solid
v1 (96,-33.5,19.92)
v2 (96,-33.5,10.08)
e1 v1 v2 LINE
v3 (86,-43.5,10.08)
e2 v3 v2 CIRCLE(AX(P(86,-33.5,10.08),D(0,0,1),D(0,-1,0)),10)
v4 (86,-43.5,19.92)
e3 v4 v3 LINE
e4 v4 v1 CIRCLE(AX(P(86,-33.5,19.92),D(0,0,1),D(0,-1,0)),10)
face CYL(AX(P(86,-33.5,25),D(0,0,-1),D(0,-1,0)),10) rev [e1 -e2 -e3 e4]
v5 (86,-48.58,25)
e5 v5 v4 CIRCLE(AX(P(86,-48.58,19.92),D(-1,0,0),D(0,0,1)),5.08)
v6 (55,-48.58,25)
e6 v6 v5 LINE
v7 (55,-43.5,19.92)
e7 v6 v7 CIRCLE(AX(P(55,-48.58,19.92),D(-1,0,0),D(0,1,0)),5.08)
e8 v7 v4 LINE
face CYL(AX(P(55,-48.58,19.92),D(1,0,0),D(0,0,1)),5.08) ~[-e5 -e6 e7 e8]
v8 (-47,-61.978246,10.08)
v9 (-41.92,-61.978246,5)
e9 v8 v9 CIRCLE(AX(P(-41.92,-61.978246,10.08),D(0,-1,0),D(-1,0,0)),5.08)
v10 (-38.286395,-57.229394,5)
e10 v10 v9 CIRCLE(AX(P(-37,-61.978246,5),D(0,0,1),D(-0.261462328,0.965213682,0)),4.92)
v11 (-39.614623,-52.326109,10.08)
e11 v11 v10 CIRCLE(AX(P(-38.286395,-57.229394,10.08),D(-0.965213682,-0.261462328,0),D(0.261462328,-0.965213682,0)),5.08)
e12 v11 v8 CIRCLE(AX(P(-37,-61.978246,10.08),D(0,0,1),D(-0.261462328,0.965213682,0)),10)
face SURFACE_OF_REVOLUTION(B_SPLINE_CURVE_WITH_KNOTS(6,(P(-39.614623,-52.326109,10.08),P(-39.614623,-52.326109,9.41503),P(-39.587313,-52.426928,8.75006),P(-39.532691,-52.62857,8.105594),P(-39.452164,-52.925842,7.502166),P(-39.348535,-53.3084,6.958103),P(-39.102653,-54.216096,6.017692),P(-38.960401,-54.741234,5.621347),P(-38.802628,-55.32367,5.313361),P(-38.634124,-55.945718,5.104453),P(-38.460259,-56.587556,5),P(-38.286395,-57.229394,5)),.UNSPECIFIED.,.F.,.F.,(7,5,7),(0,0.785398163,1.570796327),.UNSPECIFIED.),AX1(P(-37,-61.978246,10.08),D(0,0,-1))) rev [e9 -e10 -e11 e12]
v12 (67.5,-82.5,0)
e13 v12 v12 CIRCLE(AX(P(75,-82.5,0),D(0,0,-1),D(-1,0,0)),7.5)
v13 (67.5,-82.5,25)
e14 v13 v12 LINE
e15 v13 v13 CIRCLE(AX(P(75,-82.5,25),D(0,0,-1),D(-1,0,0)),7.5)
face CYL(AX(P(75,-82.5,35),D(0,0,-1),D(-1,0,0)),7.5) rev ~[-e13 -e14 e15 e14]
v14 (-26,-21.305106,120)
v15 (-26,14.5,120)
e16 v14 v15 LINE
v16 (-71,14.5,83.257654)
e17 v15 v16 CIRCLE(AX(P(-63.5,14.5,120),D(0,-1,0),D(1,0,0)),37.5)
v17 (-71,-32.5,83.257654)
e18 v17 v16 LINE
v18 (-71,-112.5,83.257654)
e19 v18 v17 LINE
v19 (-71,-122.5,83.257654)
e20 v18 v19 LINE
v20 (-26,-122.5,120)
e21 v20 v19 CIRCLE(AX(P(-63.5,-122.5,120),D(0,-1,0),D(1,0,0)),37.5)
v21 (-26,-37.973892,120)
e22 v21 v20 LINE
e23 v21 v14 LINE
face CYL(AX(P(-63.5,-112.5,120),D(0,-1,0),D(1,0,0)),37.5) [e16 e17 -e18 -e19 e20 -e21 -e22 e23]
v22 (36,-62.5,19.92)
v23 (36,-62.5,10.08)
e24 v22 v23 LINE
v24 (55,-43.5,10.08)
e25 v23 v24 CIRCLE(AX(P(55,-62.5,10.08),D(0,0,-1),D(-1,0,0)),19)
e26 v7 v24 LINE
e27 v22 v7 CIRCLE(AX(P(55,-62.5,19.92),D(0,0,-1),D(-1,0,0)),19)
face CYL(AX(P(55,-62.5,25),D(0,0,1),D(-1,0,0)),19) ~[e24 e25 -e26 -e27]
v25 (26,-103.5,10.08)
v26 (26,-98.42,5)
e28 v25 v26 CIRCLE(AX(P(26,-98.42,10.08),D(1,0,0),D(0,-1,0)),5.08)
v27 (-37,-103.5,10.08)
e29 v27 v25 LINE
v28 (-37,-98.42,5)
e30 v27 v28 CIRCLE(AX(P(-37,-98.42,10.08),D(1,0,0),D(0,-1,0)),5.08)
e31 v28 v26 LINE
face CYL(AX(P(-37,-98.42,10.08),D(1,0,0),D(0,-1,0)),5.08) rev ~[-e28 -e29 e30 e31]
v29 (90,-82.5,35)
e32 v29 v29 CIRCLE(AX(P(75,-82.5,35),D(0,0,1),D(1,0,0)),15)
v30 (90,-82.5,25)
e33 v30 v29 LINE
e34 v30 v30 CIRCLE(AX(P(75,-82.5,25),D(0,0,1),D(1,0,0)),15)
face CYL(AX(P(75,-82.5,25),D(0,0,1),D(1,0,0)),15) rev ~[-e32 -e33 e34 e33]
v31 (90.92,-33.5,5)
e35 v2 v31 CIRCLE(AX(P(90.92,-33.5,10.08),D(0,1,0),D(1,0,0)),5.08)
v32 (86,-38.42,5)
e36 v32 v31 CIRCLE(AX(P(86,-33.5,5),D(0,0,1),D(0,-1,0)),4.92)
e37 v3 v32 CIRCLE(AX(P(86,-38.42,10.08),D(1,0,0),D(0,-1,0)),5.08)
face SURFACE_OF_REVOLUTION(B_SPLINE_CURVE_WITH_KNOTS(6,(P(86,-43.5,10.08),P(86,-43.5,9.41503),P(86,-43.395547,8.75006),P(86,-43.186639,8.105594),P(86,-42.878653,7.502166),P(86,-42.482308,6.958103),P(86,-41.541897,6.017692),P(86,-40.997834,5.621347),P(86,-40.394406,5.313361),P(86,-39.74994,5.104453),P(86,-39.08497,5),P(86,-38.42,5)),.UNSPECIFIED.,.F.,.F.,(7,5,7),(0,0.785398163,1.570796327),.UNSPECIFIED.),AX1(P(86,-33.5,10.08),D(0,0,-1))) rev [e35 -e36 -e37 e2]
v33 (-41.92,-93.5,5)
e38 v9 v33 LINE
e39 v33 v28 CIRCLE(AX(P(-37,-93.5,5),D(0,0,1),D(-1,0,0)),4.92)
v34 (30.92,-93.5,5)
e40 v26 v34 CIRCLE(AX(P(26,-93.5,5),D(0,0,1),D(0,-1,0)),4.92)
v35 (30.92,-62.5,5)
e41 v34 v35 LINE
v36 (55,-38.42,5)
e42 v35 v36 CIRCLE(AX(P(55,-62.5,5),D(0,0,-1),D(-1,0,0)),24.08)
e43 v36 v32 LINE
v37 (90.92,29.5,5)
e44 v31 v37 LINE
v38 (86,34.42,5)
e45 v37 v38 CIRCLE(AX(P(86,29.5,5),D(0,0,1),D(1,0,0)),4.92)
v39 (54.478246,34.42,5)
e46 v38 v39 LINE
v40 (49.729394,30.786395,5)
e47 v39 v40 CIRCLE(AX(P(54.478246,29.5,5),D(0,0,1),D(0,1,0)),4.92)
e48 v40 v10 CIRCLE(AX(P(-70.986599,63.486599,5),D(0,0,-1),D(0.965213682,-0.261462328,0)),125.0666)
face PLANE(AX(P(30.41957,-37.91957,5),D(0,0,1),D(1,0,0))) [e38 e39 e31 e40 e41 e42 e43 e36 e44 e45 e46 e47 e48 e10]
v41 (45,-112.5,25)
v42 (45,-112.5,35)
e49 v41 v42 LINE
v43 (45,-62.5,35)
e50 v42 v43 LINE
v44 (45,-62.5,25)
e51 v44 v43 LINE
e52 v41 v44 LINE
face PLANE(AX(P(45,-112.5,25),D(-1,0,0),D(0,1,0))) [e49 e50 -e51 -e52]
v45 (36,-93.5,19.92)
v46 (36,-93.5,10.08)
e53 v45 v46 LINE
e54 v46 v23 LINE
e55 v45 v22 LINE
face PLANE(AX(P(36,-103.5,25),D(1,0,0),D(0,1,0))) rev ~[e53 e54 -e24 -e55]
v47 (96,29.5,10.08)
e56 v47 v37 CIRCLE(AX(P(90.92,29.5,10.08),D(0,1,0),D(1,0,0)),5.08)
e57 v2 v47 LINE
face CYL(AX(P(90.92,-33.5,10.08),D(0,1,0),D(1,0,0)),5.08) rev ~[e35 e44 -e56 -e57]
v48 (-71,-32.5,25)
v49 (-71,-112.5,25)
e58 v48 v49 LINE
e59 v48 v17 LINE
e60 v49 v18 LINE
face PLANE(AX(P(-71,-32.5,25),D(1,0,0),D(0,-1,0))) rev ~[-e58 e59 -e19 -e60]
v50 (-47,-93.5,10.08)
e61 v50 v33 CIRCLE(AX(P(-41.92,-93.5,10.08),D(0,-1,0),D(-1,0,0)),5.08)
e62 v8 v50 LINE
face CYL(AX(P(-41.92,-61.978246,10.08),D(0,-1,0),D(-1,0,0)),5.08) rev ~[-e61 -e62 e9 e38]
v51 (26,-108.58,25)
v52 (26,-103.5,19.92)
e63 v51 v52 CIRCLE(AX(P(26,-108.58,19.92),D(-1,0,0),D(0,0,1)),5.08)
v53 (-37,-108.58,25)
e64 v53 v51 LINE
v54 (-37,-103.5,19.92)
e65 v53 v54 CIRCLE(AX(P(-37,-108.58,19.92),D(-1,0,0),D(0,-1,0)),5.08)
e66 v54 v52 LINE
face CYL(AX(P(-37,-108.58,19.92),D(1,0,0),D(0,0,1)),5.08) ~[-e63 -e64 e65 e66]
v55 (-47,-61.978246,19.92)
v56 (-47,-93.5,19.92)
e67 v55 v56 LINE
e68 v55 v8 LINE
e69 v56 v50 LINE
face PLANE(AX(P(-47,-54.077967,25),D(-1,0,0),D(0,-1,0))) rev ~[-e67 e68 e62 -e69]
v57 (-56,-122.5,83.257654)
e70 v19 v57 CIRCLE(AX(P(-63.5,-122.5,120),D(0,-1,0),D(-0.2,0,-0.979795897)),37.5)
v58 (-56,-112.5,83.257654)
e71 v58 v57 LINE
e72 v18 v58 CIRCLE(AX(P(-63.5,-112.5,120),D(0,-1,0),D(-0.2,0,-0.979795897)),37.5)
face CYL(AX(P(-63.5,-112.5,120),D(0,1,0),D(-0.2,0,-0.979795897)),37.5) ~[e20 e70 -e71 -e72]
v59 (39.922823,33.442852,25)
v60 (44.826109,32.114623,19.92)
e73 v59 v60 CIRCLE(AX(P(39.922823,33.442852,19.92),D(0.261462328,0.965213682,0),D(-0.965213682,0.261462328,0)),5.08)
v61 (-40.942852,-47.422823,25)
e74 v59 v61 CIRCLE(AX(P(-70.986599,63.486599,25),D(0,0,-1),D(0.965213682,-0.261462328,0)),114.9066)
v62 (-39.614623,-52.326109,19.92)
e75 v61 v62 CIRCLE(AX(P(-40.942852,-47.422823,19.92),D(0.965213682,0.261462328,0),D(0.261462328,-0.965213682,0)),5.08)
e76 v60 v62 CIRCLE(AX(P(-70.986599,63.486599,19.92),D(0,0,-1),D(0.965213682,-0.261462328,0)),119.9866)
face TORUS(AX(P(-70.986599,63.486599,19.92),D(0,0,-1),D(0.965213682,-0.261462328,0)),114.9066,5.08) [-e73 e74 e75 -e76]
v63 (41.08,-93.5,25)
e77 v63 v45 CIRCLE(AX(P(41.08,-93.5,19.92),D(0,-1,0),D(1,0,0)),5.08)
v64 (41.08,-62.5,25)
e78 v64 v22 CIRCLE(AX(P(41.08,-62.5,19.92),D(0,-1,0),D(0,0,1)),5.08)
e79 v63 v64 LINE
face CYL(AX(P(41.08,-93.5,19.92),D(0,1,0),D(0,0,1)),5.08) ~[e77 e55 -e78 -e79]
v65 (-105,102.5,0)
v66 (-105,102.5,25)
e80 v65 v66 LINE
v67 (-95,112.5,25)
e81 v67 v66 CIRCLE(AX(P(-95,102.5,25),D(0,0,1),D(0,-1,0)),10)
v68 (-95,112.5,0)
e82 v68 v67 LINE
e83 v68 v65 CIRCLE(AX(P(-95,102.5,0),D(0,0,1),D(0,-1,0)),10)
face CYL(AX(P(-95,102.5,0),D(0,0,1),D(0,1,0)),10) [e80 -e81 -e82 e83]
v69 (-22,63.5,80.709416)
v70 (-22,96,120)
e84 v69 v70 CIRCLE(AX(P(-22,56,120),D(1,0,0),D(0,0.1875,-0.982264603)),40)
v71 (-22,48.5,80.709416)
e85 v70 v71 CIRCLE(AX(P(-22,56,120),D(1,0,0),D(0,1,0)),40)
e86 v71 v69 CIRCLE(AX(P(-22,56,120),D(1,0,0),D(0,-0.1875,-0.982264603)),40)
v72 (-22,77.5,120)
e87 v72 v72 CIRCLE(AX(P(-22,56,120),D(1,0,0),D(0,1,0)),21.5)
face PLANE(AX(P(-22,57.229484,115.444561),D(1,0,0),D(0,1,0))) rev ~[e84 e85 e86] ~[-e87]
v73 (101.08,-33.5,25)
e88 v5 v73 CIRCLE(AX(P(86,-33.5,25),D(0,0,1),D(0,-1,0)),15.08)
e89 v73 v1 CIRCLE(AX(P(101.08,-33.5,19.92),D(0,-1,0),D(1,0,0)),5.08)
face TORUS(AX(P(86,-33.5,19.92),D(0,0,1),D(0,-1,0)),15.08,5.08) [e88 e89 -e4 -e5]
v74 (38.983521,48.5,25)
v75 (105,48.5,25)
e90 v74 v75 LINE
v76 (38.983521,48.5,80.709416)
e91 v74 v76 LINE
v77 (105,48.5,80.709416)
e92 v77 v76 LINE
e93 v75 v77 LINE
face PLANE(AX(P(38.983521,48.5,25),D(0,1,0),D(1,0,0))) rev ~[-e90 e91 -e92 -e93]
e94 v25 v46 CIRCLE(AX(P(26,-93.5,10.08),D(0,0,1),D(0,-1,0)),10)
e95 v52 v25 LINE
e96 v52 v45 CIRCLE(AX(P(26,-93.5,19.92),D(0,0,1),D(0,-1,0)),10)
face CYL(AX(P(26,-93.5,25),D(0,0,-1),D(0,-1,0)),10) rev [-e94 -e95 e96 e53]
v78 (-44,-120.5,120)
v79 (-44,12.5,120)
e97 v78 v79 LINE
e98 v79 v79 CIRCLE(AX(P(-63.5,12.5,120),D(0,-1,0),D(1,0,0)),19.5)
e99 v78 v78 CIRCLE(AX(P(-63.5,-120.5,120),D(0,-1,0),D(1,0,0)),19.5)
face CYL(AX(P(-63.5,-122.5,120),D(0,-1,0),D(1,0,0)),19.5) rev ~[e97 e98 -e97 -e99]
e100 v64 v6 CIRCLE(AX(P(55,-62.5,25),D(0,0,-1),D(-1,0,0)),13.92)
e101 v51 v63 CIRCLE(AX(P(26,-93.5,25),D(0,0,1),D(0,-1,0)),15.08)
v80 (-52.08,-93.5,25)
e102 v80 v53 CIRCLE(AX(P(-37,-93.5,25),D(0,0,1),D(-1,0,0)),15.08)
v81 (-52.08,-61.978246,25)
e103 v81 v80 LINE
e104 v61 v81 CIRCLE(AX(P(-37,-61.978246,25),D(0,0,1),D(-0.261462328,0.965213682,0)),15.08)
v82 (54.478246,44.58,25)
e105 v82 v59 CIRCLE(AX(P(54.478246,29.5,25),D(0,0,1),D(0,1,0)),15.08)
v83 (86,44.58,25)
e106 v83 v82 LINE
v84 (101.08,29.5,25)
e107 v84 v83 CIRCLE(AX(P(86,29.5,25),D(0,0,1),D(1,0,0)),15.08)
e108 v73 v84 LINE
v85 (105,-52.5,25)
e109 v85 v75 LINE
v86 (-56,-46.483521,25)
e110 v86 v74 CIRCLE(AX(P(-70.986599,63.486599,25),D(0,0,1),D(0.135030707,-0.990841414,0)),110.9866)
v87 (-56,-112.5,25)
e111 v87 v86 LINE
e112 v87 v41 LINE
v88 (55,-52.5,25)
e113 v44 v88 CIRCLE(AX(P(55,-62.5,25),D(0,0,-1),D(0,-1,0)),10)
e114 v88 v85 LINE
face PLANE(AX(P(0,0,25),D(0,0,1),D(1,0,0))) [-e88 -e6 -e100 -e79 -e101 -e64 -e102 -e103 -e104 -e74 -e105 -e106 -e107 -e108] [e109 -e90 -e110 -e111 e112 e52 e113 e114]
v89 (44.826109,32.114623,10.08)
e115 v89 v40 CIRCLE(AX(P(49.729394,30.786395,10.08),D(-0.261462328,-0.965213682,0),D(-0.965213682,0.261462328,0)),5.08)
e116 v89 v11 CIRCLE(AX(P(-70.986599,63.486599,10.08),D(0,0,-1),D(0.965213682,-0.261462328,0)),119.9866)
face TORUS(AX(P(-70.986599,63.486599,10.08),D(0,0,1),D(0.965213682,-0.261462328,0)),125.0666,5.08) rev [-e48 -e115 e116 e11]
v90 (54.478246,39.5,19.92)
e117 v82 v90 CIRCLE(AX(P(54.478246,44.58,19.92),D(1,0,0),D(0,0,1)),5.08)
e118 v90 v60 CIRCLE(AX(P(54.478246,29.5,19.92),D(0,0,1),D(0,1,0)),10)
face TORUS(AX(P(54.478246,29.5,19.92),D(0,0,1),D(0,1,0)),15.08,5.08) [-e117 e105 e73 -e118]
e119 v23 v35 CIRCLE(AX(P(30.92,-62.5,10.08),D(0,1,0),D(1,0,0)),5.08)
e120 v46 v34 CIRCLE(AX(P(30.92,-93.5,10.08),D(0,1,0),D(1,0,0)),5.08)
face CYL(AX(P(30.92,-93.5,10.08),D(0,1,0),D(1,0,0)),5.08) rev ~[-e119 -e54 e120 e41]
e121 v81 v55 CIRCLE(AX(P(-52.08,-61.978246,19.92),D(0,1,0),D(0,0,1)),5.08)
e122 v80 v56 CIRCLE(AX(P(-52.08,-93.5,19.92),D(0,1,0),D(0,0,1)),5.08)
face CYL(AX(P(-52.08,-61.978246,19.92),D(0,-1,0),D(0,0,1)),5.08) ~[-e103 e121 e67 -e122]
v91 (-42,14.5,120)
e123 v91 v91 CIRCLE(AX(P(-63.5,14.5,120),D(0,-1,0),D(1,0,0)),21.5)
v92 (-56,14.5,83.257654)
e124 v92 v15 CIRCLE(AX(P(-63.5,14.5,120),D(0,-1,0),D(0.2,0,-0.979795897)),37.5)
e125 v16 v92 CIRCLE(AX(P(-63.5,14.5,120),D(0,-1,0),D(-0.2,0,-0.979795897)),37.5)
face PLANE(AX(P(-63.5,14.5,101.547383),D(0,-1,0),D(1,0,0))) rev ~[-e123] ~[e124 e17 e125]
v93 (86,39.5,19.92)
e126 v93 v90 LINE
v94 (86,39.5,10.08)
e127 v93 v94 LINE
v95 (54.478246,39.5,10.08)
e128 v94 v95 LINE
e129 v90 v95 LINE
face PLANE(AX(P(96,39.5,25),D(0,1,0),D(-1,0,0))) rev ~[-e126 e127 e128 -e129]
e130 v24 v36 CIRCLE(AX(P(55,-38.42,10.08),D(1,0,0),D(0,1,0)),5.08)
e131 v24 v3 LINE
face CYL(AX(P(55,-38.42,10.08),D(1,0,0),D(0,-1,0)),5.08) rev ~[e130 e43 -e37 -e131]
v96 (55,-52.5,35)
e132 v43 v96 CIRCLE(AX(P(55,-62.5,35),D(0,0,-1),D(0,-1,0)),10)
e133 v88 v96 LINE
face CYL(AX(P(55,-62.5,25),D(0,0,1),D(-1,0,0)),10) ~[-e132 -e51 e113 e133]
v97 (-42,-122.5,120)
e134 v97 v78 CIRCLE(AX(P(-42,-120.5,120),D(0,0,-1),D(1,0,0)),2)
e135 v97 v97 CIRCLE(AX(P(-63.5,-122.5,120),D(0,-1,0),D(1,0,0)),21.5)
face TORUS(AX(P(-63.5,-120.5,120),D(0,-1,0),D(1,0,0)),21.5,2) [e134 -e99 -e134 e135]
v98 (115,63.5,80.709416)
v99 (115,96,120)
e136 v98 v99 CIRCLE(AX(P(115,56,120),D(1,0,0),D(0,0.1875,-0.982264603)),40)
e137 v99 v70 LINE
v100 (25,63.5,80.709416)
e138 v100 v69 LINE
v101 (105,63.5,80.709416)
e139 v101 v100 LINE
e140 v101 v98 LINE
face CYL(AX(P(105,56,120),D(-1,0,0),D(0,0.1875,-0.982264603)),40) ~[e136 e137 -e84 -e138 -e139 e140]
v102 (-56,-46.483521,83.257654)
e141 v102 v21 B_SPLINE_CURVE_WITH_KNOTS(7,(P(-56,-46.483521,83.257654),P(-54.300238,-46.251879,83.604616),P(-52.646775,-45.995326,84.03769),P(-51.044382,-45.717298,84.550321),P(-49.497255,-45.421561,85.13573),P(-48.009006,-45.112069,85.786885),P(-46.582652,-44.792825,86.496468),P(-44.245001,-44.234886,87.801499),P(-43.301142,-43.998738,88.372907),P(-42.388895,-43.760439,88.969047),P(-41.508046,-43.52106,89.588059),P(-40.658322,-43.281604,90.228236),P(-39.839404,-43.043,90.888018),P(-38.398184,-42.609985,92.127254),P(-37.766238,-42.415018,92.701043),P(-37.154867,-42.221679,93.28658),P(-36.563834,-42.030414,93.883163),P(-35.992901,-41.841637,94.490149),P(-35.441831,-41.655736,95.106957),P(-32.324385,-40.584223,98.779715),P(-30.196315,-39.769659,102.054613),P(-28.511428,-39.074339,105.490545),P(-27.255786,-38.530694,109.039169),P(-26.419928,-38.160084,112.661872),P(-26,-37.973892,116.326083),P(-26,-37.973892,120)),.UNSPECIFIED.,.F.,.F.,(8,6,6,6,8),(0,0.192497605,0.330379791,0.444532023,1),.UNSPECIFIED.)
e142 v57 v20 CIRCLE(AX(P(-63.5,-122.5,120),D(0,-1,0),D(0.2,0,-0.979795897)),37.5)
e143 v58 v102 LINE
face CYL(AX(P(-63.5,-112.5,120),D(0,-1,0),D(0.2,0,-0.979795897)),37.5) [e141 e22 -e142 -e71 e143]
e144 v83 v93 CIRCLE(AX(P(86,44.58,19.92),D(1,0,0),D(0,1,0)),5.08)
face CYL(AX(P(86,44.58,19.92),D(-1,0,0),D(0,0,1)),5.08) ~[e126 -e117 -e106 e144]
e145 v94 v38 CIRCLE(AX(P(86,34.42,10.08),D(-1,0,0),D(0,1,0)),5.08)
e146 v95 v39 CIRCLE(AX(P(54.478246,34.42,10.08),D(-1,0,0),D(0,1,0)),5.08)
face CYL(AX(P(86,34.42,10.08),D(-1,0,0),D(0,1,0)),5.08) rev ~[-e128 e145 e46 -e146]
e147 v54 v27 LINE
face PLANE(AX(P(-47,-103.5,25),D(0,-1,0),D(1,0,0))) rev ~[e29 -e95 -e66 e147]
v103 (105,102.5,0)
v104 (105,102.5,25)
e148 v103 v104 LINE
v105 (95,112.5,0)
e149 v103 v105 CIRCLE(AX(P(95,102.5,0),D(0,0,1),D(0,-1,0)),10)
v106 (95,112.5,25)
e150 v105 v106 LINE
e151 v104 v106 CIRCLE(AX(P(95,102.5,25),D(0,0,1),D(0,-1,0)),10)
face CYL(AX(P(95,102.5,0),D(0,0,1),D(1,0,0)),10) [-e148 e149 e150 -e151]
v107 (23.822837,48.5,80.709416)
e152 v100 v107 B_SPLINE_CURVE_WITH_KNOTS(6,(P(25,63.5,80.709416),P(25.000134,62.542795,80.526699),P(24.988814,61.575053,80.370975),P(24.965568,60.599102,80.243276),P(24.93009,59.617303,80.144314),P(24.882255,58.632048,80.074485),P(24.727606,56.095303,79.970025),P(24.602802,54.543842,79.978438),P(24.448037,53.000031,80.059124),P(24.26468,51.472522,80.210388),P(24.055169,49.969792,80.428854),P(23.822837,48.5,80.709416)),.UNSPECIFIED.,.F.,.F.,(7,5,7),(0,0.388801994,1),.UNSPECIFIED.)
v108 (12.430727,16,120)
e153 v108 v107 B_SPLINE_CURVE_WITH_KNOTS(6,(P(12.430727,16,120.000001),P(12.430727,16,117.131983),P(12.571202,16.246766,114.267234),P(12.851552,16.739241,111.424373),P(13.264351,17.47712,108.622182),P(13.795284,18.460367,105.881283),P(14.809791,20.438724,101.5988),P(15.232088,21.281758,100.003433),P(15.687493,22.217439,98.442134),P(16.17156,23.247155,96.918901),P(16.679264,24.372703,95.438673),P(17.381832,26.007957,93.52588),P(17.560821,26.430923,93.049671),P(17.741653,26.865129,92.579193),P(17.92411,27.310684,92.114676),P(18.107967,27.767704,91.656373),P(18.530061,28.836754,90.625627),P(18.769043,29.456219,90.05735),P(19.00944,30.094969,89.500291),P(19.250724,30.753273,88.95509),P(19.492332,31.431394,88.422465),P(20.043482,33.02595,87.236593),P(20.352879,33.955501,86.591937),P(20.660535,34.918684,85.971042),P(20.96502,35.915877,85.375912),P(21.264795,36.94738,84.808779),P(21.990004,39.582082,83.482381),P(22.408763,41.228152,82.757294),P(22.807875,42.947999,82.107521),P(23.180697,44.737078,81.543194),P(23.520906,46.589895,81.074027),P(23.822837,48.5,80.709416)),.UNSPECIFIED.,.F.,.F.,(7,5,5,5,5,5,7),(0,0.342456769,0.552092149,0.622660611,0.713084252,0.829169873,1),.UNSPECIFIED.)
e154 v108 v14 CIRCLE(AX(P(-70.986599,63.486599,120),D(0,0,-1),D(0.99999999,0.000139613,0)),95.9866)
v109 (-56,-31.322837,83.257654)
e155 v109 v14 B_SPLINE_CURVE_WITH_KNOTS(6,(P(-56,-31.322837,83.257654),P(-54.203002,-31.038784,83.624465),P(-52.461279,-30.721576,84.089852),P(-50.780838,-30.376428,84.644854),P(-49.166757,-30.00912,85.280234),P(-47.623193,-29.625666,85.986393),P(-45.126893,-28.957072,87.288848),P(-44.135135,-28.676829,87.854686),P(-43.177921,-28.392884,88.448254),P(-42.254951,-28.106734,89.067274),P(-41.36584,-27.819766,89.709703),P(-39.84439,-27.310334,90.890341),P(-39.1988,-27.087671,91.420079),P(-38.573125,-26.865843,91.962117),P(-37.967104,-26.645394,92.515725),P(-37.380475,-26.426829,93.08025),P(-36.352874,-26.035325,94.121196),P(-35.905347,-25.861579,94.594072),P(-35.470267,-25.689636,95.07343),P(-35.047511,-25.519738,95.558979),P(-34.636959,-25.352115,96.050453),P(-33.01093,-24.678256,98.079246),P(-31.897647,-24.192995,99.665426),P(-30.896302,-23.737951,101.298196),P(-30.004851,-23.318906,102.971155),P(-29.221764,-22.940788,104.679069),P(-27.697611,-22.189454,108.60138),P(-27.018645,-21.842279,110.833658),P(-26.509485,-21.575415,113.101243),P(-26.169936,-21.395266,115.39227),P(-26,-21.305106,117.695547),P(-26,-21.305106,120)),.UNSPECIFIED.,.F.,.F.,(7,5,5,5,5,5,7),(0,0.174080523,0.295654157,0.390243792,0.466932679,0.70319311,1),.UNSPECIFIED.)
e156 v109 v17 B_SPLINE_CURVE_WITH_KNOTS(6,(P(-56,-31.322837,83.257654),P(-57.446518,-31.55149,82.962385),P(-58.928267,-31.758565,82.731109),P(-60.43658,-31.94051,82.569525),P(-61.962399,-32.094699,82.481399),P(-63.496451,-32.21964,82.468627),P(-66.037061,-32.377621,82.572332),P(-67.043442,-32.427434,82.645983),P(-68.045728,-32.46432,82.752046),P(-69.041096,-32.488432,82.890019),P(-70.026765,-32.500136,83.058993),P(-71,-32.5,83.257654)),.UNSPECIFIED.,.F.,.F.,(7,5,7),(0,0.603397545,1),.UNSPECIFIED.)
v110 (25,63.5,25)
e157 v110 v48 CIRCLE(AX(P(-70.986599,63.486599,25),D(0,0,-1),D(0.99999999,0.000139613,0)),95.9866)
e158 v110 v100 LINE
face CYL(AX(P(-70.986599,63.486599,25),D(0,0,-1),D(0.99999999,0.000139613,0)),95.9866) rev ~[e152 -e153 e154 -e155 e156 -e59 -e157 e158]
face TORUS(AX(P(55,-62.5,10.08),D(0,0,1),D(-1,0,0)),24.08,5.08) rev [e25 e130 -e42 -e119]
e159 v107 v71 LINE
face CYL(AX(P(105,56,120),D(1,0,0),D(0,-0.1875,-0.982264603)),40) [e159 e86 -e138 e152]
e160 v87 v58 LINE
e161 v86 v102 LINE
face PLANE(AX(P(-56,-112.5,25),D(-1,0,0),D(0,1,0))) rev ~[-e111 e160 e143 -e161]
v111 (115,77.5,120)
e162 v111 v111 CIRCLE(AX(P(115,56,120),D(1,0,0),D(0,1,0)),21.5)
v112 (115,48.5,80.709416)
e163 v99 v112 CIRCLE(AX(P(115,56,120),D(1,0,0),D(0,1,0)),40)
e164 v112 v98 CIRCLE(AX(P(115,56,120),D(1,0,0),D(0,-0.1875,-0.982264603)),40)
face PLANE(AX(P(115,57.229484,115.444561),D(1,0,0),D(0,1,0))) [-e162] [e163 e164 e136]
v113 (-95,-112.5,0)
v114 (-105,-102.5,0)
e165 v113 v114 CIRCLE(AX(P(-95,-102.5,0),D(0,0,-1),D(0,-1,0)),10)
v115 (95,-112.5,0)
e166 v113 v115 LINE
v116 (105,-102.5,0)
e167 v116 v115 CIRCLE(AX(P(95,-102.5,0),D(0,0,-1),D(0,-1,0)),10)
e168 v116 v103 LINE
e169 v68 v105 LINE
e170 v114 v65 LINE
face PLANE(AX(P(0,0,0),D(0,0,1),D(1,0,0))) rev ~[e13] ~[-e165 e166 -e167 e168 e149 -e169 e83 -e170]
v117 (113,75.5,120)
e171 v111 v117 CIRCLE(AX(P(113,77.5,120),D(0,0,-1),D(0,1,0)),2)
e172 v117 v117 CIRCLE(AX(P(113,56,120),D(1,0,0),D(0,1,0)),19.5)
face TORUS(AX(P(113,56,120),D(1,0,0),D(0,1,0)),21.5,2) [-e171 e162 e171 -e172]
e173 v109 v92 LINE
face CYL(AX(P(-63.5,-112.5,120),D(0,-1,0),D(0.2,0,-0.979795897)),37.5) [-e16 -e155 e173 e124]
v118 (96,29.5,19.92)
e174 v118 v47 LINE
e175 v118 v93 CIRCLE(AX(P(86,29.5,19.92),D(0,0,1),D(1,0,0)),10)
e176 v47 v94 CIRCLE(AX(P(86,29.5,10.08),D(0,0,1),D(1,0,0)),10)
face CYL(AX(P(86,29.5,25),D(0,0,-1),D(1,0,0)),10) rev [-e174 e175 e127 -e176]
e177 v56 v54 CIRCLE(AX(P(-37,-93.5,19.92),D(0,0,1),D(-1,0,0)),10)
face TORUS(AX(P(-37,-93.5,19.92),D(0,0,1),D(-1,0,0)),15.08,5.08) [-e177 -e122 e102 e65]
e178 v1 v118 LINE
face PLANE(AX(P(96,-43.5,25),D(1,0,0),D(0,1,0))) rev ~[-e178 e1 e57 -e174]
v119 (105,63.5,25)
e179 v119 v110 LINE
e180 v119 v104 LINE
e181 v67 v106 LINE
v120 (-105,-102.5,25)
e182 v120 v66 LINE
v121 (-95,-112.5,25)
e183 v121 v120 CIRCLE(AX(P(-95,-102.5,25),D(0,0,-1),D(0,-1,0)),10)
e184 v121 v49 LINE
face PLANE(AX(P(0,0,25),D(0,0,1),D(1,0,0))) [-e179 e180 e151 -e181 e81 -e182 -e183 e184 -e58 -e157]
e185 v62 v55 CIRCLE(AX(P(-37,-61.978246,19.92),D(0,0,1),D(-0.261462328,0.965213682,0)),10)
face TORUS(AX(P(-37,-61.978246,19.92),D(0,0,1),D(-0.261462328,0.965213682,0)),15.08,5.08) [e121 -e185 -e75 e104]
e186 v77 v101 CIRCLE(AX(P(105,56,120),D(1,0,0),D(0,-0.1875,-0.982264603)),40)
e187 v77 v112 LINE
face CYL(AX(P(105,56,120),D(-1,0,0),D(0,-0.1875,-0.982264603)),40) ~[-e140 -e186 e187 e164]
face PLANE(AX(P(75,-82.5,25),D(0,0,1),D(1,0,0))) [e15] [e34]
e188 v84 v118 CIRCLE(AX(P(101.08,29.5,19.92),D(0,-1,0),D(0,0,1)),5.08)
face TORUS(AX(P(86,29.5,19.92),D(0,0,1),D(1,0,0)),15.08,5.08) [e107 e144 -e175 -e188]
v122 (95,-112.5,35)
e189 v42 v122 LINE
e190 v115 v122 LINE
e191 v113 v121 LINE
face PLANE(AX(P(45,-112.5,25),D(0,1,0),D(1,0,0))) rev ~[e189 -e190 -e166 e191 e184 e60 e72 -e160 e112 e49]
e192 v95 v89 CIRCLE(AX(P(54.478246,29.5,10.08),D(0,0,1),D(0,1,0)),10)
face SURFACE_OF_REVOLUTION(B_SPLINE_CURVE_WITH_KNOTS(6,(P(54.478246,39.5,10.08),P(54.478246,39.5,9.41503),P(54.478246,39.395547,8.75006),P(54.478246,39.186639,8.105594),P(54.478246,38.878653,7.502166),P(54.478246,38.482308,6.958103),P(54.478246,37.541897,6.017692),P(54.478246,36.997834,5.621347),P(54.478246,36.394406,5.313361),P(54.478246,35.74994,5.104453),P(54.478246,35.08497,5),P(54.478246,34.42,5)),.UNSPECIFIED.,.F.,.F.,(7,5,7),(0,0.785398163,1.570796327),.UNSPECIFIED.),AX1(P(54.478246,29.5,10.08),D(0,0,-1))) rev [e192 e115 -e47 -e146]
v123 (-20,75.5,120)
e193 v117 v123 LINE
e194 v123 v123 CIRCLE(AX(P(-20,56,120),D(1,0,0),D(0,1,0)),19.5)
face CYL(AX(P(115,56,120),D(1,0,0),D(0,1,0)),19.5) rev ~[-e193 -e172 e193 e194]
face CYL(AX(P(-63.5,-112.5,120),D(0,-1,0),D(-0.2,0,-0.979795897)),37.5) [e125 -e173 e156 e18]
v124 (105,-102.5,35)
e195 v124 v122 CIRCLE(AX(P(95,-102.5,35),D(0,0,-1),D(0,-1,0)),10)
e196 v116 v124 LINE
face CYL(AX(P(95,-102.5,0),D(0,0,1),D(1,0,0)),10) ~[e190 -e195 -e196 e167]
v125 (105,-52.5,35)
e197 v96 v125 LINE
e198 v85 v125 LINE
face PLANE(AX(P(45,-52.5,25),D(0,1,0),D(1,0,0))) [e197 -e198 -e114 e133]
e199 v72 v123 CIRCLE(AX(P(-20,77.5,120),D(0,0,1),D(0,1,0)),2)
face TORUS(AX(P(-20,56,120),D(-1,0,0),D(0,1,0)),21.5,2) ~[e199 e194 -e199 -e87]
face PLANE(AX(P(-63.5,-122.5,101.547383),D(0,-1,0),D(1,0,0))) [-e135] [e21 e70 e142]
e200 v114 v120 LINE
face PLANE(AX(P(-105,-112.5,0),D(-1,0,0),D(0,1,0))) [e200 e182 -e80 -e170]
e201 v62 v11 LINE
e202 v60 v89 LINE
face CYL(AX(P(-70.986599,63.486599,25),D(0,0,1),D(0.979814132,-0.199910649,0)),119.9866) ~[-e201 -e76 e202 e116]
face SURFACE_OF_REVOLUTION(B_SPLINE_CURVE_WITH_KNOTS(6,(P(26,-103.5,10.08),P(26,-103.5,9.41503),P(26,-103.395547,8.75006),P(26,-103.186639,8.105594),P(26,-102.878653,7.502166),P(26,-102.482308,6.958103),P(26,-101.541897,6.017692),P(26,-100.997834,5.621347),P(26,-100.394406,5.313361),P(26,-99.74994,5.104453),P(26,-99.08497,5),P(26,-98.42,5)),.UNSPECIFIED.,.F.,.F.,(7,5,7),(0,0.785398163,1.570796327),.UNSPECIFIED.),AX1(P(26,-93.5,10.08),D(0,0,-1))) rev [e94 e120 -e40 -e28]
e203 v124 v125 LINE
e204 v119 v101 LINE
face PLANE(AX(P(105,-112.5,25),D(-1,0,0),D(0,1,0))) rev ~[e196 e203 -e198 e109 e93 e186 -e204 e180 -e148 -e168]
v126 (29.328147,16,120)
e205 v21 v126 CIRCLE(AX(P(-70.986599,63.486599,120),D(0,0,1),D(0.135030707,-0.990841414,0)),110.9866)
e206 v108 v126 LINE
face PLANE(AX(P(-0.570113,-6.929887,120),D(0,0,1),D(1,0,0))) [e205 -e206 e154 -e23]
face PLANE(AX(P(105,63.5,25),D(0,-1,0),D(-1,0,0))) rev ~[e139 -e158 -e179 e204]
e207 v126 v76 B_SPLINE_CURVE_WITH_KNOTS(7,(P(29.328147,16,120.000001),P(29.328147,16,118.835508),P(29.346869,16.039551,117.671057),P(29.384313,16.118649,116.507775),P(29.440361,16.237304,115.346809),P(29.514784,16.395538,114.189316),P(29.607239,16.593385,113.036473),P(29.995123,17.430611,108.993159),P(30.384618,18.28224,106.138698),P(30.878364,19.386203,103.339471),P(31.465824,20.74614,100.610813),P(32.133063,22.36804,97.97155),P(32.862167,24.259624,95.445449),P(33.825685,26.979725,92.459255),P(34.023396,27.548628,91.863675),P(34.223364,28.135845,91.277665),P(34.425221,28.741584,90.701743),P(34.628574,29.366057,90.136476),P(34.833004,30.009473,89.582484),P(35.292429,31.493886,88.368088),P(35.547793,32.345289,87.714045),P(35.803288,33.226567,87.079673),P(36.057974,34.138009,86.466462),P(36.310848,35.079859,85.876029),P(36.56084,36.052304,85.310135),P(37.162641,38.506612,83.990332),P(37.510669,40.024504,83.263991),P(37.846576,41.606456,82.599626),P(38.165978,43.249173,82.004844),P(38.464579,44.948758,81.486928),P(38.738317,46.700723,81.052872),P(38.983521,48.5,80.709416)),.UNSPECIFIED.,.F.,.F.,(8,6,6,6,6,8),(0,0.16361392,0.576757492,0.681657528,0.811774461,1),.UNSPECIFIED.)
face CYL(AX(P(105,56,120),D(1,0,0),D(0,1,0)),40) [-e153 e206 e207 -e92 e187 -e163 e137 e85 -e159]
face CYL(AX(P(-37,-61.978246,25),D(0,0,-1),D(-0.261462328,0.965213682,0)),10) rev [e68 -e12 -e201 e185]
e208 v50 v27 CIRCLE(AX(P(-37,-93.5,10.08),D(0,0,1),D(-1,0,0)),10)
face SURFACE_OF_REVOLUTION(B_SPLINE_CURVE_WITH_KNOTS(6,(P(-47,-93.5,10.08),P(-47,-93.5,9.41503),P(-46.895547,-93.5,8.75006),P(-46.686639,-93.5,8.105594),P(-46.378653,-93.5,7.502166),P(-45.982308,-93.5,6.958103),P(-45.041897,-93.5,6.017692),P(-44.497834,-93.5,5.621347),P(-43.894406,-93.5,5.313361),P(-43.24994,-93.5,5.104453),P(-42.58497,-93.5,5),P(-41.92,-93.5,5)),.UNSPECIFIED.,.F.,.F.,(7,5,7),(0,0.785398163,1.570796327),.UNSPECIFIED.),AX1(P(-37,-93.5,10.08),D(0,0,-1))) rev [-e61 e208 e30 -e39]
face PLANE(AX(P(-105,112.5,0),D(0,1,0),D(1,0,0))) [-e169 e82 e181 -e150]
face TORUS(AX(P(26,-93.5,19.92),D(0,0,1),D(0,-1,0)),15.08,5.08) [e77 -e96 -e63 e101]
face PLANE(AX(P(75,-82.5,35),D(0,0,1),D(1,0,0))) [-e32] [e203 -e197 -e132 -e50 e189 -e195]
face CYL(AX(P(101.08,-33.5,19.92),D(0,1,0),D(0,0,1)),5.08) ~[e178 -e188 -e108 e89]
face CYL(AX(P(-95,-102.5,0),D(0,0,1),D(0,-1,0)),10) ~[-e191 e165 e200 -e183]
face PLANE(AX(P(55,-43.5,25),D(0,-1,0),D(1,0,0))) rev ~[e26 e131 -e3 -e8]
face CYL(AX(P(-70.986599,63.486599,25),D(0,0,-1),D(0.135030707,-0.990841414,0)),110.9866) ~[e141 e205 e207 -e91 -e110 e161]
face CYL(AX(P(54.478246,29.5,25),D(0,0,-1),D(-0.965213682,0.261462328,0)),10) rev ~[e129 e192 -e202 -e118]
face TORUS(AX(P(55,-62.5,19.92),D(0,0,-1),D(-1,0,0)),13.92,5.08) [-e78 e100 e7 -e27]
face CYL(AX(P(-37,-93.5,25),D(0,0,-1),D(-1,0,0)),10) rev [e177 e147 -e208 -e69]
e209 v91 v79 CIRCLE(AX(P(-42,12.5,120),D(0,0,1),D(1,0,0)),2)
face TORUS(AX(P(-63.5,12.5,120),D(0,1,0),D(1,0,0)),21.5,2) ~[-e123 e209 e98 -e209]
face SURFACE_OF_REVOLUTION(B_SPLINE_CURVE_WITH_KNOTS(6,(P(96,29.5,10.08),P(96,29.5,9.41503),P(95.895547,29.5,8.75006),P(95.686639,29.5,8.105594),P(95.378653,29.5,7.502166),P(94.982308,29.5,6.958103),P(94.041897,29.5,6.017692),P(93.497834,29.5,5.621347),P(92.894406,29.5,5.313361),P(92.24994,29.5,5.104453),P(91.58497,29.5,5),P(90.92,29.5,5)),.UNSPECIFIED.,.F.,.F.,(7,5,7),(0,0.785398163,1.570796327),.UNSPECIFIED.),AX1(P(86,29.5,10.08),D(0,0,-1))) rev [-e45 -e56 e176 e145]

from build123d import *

# Parameters (mm, degrees)
F0_W            = 210
F0_H            = 225
F1_DEPTH        = 25
F3_DEPTH        = 95
F5_DEPTH        = 10
F5_DEPTH_BACK   = 127
F7_DEPTH        = 10
F7_DEPTH_BACK   = 127
F8_W            = 60
F8_H            = 60
F9_DEPTH        = 10
F10_R           = 10
F12_DEPTH       = 20
F14_D           = 15
F14_CBORE_D     = 30
F14_CBORE_DEPTH = 10
F15_R           = 10
F16_R           = 19.5
F18_DEPTH       = 235.001
F17_R           = 19.5
F19_DEPTH       = 220.001
F20_R           = 2
F21_R           = 10
F22_R           = 5.08


with BuildPart() as f1:
    # F0 (on Top) → F1 (new body)
    with BuildSketch(Plane.XY):
        Rectangle(F0_W, F0_H)
    extrude(amount=F1_DEPTH)

    # F2 (on face) → F3 (join)
    with BuildSketch(Plane.XY.offset(25)):
        with BuildLine():
            Line((-71, -32.5), (-71, -112.5))
            Line((-71, -112.5), (-56, -112.5))
            Line((-56, -112.5), (-56, -46.483520641))
            ThreePointArc((-56, -46.483520641), (7.4927784163, -14.9927784163), (38.983520641, 48.5))
            Line((38.983520641, 48.5), (105, 48.5))
            Line((105, 48.5), (105, 63.5))
            Line((105, 63.5), (25, 63.5))
            ThreePointArc((25, 63.5), (-3.1138233015, -4.3861766985), (-71, -32.5))
        make_face()
    extrude(amount=F3_DEPTH)

    # F4 (on face) → F5 (join, two sides)
    with BuildSketch(Plane.XZ.offset(112.5)) as f5_sk:
        with BuildLine():
            Line((-71, 120), (-71, 83.2576538583))
            ThreePointArc((-71, 83.2576538583), (-63.5, 82.5), (-56, 83.2576538583))
            Line((-56, 83.2576538583), (-56, 120))
            Line((-56, 120), (-71, 120))
        make_face()
        with BuildLine():
            ThreePointArc((-56, 83.2576538583), (-34.4526249034, 96.2829175487), (-26, 120))
            ThreePointArc((-26, 120), (-87.2170824513, 149.0473750966), (-71, 83.2576538583))
            Line((-71, 83.2576538583), (-71, 120))
            Line((-71, 120), (-56, 120))
            Line((-56, 120), (-56, 83.2576538583))
        make_face()
    extrude(amount=F5_DEPTH)
    extrude(f5_sk.sketch, amount=-F5_DEPTH_BACK)

    # F6 (on face) → F7 (join, two sides)
    with BuildSketch(Plane.YZ.offset(105)) as f7_sk:
        with BuildLine():
            ThreePointArc((63.5, 80.7094158862), (86.8220700148, 94.504902432), (96, 120))
            ThreePointArc((96, 120), (30.504902432, 150.8220700148), (48.5, 80.7094158862))
            Line((48.5, 80.7094158862), (48.5, 120))
            Line((48.5, 120), (63.5, 120))
            Line((63.5, 120), (63.5, 80.7094158862))
        make_face()
        with BuildLine():
            Line((48.5, 120), (48.5, 80.7094158862))
            ThreePointArc((48.5, 80.7094158862), (56, 80), (63.5, 80.7094158862))
            Line((63.5, 80.7094158862), (63.5, 120))
            Line((63.5, 120), (48.5, 120))
        make_face()
    extrude(amount=F7_DEPTH)
    extrude(f7_sk.sketch, amount=-F7_DEPTH_BACK)

    # F8 (on face) → F9 (join)
    with BuildSketch(Plane.XY.offset(25)):
        with Locations((75, -82.5)):
            Rectangle(F8_W, F8_H)
    extrude(amount=F9_DEPTH)

    # F10
    f10_edges = [f1.edges().sort_by_distance(p)[0] for p in [
        (45, -52.5, 30),
    ]]
    fillet(f10_edges, radius=F10_R)

    # F11 (on face) → F12 (cut)
    with BuildSketch(Plane.XY.offset(25)):
        with BuildLine():
            ThreePointArc((46.5779672166, 39.5), (13.856739447, -21.356739447), (-47, -54.0779672166))
            Line((-47, -54.0779672166), (-47, -103.5))
            Line((-47, -103.5), (36, -103.5))
            Line((36, -103.5), (36, -62.5))
            ThreePointArc((36, -62.5), (41.5649711575, -49.0649711575), (55, -43.5))
            Line((55, -43.5), (96, -43.5))
            Line((96, -43.5), (96, 39.5))
            Line((96, 39.5), (46.5779672166, 39.5))
        make_face()
    extrude(amount=-F12_DEPTH, mode=Mode.SUBTRACT)

    # F14 (through all)
    with Locations(Plane.XY.offset(35)):
        with Locations((75, -82.5)):
            CounterBoreHole(F14_D / 2, F14_CBORE_D / 2, F14_CBORE_DEPTH)

    # F15
    f15_edges = [f1.edges().sort_by_distance(p)[0] for p in [
        (-47, -54.077967, 15),
        (46.577967, 39.5, 15),
        (96, 39.5, 15),
        (96, -43.5, 15),
        (36, -103.5, 15),
        (-47, -103.5, 15),
    ]]
    fillet(f15_edges, radius=F15_R)

    # F16 (on face) → F18 (cut, through all)
    with BuildSketch(Plane.XZ.offset(122.5)):
        with Locations((-63.5, 120)):
            Circle(F16_R)
    extrude(amount=-F18_DEPTH, mode=Mode.SUBTRACT)

    # F17 (on face) → F19 (cut, through all)
    with BuildSketch(Plane.YZ.offset(115)):
        with Locations((56, 120)):
            Circle(F17_R)
    extrude(amount=-F19_DEPTH, mode=Mode.SUBTRACT)

    # F20
    f20_edges = [f1.edges().sort_by_distance(p)[0] for p in [
        (-83, -122.5, 120),
        (115, 36.5, 120),
        (-22, 36.5, 120),
        (-83, 14.5, 120),
    ]]
    fillet(f20_edges, radius=F20_R)

    # F21
    f21_edges = [f1.edges().sort_by_distance(p)[0] for p in [
        (105, -112.5, 17.5),
        (-105, -112.5, 12.5),
        (105, 112.5, 12.5),
        (-105, 112.5, 12.5),
    ]]
    fillet(f21_edges, radius=F21_R)

    # F22
    f22_edges = [f1.edges().sort_by_distance(p)[0] for p in [
        (-47, -77.739123, 25),
        (-44.941858, -55.901496, 25),
        (-47, -77.739123, 5),
        (-44.941858, -55.901496, 5),
        (13.856739, -21.356739, 5),
    ]]
    fillet(f22_edges, radius=F22_R)


solid = f1.part
